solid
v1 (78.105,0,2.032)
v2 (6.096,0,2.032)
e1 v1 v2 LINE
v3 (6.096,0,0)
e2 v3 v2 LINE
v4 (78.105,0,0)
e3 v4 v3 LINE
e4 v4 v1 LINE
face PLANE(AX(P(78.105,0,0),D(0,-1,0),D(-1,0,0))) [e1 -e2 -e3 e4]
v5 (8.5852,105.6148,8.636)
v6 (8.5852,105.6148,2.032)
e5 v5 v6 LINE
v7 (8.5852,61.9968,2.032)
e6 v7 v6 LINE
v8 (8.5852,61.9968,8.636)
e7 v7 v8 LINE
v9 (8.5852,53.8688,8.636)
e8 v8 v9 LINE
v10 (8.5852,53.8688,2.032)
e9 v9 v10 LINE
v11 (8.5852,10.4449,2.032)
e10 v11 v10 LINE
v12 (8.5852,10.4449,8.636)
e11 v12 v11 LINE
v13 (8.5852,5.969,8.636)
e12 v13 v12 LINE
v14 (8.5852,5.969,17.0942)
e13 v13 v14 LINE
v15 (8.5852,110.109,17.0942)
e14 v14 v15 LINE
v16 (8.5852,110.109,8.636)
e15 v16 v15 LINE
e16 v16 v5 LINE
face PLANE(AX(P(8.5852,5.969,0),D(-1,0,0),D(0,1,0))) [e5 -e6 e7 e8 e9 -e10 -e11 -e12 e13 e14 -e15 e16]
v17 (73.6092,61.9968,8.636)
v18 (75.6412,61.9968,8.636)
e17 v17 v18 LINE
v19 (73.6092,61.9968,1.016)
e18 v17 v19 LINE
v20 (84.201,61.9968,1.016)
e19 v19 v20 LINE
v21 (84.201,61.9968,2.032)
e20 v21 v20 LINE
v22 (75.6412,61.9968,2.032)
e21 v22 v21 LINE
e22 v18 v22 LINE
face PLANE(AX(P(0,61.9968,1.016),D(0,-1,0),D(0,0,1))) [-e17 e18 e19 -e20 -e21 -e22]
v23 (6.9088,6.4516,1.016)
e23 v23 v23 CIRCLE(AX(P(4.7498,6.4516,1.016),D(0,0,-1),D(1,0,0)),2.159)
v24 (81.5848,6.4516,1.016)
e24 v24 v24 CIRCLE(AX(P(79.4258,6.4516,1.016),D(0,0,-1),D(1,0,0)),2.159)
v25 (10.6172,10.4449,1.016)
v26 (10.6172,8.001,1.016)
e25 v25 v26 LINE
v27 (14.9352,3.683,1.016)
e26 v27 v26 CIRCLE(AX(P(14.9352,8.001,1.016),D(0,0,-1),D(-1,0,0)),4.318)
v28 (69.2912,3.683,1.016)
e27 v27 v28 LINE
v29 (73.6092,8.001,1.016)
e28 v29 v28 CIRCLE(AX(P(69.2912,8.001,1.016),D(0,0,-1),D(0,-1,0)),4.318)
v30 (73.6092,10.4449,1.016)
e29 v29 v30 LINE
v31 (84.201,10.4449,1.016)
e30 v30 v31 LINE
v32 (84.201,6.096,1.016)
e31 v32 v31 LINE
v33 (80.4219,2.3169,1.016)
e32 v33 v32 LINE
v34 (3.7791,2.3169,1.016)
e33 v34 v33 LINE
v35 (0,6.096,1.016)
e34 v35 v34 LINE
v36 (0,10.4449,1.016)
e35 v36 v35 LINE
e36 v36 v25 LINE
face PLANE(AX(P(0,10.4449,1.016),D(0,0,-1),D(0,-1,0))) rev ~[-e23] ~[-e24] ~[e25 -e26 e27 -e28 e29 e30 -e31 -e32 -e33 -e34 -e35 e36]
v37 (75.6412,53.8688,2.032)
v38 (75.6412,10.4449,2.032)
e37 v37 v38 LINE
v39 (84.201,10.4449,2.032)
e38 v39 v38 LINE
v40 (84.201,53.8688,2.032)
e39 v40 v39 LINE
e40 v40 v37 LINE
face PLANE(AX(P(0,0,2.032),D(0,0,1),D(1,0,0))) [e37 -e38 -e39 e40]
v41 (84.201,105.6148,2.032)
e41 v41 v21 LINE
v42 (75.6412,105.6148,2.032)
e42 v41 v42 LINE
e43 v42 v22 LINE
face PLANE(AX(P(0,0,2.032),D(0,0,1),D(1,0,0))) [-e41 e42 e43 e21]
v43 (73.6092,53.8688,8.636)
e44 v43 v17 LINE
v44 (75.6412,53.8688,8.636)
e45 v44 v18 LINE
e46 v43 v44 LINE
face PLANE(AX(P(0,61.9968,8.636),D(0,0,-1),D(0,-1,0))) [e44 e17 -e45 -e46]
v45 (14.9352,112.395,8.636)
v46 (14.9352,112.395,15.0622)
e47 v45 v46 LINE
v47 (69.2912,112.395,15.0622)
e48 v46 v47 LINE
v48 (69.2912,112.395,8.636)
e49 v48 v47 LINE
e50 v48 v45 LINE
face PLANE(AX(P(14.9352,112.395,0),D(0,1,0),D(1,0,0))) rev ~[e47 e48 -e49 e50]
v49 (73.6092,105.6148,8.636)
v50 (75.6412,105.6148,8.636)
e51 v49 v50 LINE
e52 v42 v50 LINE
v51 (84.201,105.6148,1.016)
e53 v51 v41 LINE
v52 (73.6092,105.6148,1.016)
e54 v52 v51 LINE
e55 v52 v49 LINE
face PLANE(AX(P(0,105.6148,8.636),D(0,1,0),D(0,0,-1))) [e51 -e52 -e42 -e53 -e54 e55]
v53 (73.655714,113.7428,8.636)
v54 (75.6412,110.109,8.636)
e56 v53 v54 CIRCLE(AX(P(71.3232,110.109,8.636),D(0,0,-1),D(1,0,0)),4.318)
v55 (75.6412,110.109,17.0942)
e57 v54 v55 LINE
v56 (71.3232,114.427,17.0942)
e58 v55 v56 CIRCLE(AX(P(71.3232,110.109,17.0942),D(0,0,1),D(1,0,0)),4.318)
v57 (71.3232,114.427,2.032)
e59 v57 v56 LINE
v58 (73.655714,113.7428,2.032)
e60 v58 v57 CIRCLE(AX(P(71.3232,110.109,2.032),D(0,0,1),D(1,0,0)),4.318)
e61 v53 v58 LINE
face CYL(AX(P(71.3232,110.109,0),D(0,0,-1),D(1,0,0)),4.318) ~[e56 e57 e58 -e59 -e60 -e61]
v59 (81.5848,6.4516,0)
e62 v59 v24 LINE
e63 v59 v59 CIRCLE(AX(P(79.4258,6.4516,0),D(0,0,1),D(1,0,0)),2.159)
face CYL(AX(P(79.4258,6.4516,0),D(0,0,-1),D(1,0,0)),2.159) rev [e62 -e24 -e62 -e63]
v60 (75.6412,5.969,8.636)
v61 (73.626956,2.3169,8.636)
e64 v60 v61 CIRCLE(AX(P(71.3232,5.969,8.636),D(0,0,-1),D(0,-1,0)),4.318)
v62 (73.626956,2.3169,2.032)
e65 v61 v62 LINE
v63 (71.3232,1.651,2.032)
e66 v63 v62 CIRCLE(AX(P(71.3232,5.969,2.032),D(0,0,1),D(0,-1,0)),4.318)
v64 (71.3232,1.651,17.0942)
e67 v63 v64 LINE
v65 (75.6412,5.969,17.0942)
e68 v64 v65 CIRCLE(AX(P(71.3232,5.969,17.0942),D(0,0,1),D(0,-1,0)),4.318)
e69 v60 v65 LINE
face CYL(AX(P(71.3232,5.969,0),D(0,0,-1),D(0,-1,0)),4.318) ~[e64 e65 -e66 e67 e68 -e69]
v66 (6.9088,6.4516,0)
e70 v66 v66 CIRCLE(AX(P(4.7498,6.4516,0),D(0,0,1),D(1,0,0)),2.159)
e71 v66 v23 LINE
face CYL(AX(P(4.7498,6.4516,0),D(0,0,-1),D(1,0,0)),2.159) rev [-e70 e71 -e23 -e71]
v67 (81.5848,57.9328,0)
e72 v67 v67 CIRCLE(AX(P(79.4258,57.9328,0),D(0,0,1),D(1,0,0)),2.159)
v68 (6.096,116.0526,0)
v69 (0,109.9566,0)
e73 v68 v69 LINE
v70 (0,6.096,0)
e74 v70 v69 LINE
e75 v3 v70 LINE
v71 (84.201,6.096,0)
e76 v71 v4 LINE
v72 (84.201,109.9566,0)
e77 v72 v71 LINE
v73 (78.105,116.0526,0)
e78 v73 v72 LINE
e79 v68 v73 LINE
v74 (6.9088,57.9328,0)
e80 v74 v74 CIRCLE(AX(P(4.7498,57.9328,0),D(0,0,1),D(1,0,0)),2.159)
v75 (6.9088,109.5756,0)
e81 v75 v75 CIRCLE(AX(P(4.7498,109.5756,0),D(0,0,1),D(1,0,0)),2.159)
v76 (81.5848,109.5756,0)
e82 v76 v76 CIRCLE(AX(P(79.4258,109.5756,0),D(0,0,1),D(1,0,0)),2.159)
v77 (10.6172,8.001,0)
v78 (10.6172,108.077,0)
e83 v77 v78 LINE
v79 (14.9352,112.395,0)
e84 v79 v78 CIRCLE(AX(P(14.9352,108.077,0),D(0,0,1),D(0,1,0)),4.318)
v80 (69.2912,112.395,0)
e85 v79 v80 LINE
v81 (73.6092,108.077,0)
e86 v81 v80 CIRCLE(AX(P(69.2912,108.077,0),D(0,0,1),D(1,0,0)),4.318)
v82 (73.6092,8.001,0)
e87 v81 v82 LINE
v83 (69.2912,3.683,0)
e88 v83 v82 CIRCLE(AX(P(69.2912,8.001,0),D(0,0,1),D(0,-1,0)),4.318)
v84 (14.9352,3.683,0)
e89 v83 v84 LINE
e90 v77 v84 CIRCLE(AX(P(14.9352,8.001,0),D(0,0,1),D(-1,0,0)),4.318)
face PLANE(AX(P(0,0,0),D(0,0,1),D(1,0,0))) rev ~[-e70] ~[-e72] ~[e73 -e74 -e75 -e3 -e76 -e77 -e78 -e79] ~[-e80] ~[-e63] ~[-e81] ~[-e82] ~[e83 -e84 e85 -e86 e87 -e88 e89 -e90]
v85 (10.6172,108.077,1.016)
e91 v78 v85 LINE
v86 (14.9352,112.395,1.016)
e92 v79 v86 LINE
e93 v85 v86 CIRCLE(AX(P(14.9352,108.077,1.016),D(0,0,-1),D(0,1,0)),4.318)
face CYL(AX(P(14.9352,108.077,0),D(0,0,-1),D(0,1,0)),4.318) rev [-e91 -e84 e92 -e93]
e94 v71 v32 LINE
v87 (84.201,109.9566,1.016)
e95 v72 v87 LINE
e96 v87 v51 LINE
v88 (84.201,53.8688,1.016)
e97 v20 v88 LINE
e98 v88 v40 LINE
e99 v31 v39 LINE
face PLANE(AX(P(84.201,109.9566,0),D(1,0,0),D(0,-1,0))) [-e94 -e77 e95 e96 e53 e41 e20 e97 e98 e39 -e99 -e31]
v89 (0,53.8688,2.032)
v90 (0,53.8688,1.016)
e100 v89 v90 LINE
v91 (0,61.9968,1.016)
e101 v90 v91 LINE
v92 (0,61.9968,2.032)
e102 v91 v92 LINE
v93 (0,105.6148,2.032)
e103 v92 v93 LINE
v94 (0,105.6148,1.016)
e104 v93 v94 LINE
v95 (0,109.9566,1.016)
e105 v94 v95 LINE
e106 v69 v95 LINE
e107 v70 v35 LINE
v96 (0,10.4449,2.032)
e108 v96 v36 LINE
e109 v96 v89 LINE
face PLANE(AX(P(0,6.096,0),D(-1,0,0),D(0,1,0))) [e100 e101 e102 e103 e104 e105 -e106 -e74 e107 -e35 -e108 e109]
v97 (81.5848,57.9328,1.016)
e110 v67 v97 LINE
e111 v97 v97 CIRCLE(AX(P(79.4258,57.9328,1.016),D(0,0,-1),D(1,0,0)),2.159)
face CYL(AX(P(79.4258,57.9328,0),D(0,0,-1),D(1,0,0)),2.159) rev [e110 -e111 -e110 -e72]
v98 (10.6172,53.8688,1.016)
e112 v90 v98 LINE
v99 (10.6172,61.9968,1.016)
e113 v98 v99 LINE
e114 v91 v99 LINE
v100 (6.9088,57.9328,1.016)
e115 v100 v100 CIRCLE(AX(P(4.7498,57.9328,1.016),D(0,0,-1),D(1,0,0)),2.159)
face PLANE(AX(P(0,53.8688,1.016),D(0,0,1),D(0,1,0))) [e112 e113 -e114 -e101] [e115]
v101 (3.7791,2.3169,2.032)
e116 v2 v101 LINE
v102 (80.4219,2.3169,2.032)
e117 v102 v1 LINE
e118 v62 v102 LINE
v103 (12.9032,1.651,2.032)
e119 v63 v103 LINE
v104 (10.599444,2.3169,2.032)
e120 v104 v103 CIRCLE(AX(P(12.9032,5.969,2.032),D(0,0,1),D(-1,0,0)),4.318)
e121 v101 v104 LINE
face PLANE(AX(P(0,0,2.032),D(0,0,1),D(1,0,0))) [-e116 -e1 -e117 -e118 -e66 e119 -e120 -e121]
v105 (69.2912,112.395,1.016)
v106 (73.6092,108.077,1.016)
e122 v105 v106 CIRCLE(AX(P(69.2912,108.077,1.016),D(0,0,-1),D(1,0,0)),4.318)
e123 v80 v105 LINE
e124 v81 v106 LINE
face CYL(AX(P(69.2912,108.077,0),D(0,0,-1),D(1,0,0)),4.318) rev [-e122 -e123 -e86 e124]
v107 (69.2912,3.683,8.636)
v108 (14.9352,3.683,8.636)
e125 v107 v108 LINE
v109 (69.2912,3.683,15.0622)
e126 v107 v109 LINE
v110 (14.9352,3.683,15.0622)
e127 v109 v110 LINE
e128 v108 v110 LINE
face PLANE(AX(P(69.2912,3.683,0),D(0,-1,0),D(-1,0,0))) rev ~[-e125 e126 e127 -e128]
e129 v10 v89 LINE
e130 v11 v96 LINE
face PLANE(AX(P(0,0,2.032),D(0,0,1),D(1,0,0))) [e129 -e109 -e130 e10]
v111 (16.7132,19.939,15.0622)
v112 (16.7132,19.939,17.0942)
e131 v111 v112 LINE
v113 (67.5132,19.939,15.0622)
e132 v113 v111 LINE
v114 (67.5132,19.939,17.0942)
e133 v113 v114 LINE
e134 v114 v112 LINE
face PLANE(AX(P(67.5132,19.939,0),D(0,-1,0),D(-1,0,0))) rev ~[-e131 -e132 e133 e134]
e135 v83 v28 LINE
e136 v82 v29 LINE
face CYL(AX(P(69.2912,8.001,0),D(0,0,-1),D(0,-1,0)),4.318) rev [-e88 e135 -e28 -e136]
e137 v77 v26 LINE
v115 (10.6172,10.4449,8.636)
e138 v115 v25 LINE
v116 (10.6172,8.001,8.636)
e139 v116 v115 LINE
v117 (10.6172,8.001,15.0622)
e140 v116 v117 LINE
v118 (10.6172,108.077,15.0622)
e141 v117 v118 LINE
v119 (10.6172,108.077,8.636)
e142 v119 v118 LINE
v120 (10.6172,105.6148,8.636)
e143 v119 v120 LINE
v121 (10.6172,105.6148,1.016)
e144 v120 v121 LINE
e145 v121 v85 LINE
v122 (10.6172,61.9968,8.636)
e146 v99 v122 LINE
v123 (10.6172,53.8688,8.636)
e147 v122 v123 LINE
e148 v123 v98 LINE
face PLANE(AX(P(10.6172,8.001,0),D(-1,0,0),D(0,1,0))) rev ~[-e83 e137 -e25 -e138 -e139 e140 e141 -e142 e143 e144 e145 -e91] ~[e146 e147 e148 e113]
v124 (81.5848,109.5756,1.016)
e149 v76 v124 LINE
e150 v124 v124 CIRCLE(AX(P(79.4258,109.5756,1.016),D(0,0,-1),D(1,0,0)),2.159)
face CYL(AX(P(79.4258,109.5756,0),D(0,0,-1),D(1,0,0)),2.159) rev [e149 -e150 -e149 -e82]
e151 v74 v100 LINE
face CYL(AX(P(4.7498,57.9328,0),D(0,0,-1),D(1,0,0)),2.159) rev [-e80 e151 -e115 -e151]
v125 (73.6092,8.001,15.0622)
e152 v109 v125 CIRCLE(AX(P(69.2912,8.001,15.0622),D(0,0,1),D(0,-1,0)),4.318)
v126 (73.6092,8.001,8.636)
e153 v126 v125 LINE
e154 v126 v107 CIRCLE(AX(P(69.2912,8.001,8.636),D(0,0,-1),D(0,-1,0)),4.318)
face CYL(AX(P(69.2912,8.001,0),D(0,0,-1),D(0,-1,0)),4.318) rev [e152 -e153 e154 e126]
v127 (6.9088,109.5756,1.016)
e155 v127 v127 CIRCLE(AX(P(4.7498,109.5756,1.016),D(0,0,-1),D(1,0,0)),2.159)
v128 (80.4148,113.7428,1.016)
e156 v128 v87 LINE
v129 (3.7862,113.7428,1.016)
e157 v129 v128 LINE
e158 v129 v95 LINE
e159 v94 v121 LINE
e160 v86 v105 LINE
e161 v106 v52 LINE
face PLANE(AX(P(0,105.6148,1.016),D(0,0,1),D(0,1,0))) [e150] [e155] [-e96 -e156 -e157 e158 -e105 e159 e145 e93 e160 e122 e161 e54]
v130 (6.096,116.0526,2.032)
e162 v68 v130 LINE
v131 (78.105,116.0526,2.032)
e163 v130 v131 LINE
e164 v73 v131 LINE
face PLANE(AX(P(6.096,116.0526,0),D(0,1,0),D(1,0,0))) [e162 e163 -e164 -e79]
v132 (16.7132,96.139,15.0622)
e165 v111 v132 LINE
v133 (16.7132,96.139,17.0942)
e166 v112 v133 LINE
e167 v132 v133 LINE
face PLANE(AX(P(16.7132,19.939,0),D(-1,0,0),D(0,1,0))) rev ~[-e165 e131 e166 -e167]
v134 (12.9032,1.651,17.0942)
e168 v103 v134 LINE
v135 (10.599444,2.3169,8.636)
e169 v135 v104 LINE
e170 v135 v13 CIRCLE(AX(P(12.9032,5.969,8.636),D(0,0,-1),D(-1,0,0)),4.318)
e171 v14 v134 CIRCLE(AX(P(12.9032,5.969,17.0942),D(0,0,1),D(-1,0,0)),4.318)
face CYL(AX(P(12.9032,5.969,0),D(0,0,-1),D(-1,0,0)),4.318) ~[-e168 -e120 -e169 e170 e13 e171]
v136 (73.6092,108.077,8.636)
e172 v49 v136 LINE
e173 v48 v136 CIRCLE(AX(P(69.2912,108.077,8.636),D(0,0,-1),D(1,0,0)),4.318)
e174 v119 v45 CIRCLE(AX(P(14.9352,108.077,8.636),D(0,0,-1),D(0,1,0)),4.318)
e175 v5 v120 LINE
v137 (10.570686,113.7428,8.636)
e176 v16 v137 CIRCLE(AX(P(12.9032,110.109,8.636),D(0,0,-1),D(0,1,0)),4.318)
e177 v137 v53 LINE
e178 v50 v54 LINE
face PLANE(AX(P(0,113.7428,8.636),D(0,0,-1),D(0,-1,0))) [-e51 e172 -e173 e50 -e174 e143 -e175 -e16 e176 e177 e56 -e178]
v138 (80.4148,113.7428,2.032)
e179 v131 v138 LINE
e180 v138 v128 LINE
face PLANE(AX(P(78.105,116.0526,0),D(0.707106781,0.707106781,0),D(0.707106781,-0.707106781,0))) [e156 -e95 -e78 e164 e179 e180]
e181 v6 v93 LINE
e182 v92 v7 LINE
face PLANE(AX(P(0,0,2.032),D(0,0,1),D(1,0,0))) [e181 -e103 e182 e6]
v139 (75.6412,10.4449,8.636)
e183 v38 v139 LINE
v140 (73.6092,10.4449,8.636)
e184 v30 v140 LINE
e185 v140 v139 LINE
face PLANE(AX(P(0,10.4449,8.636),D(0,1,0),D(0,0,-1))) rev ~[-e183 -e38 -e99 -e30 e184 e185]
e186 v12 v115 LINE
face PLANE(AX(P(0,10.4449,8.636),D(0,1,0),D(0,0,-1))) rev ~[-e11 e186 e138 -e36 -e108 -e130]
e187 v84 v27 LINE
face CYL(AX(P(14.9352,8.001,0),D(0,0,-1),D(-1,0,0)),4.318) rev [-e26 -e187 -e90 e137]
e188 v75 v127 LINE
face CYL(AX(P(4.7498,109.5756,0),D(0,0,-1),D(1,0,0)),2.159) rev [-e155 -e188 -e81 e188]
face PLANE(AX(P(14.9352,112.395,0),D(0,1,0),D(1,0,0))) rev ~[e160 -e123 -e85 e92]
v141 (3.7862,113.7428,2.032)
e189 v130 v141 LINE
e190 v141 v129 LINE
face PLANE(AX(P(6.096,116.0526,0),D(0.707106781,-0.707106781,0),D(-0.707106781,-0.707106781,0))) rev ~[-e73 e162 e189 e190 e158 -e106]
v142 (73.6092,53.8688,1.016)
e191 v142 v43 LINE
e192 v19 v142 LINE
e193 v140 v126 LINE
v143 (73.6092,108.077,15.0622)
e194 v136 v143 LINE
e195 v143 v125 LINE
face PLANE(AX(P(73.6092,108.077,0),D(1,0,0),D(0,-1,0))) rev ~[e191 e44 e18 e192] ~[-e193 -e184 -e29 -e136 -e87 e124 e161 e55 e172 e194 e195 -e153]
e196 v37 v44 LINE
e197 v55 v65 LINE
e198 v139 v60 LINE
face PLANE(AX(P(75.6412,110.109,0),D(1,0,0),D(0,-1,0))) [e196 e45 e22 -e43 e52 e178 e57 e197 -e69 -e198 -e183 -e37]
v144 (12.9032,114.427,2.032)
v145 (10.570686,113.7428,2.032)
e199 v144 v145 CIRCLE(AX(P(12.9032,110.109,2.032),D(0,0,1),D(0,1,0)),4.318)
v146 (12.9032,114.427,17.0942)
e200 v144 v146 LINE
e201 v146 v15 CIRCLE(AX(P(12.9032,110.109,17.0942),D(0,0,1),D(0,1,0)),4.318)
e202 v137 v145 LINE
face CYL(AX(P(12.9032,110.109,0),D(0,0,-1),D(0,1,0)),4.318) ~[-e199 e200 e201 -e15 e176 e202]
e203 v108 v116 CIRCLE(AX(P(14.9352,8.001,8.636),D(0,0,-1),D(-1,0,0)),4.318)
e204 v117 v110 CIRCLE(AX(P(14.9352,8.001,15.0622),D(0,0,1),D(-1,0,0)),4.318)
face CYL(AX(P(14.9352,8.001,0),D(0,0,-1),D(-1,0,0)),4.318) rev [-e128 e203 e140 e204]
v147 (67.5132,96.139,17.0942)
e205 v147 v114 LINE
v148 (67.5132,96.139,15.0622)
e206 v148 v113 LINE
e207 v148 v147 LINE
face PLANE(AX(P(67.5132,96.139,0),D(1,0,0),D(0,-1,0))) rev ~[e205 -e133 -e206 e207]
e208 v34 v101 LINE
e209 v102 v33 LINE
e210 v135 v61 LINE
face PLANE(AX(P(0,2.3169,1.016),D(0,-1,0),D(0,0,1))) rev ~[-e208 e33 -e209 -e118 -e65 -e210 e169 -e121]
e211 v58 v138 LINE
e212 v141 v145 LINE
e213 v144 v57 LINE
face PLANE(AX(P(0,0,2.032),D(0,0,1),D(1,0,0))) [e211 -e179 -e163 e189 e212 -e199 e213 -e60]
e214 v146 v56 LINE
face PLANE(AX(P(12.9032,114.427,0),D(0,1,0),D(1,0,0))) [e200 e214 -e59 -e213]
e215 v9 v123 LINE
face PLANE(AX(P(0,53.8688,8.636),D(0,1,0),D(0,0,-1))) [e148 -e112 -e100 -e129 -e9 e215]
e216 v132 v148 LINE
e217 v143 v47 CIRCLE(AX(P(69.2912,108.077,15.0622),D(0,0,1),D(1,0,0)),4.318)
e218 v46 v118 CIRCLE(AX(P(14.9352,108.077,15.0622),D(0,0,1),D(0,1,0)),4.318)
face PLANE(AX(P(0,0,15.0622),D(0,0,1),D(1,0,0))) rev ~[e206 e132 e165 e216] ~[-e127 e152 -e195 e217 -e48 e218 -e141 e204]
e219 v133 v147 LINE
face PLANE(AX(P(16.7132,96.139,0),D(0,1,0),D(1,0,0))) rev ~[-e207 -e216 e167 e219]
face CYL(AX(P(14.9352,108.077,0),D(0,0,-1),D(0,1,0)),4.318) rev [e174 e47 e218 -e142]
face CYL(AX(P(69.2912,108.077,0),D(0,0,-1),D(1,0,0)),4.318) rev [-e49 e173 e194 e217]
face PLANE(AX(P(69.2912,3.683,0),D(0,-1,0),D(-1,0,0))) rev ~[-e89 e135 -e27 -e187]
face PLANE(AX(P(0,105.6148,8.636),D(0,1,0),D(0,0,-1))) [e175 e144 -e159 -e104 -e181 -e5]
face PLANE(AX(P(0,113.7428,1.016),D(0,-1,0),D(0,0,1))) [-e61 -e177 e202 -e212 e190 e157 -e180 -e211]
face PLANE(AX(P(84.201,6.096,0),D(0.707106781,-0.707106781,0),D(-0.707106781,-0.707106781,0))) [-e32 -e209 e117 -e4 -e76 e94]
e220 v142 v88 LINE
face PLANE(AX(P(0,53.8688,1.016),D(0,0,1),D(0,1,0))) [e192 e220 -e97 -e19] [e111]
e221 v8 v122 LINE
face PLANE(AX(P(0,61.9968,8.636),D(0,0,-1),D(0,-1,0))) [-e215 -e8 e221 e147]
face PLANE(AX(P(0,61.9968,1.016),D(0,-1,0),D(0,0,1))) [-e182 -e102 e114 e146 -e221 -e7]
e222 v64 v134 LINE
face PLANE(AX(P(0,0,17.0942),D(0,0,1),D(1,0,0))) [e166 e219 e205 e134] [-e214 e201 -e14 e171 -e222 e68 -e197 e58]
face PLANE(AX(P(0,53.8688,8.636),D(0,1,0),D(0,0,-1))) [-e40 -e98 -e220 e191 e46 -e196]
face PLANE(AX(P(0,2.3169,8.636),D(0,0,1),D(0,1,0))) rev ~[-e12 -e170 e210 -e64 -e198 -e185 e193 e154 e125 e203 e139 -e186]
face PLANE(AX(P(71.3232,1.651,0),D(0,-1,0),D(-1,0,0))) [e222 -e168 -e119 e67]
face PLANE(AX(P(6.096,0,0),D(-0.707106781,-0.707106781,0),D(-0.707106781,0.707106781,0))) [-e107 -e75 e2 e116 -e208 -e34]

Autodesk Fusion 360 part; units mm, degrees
sketch "Sketch1" plane through (0, 0, 0) normal (0, 0, 1) x (1, 0, 0)
  line L0 (29.0445, 57.9328) -> (-12.0026, 57.9328) construction
  line L1 (41.7104, -9.3698) -> (41.7104, 10.2984) construction
  line L2 (41.7104, 10.2984) -> (41.7104, 122.9631) construction
  line L3 (29.0445, 57.9328) -> (97.0807, 57.9328) construction
  line L4 (4.7498, 120.3976) -> (4.7498, -5.9492) construction
  line L5 (79.4258, 120.3976) -> (79.4258, -5.9492) construction
  line L6 (-5.9061, 109.5756) -> (91.9438, 109.5756) construction
  line L7 (-5.9061, 6.4516) -> (90.0293, 6.4516) construction
  line L8 (6.096, 116.0526) -> (78.105, 116.0526)
  line L9 (84.201, 109.9566) -> (84.201, 6.096)
  line L10 (78.105, 0) -> (6.096, 0)
  line L11 (0, 6.096) -> (0, 109.9566)
  line L12 (6.096, 116.0526) -> (0, 109.9566)
  line L13 (78.105, 116.0526) -> (84.201, 109.9566)
  line L14 (84.201, 6.096) -> (78.105, 0)
  line L15 (6.096, 0) -> (0, 6.096)
  circle A0 centre (79.4258, 109.5756) radius 2.159
  circle A1 centre (4.7498, 109.5756) radius 2.159
  circle A2 centre (4.7498, 6.4516) radius 2.159
  circle A3 centre (79.4258, 6.4516) radius 2.159
  circle A4 centre (79.4258, 57.9328) radius 2.159
  circle A5 centre (4.7498, 57.9328) radius 2.159
  line L16 (12.9032, 114.427) -> (71.3232, 114.427)
  line L17 (75.6412, 110.109) -> (75.6412, 5.969)
  line L18 (71.3232, 1.651) -> (12.9032, 1.651)
  line L19 (8.5852, 5.969) -> (8.5852, 110.109)
  line L20 (14.9352, 112.395) -> (69.2912, 112.395)
  line L21 (73.6092, 108.077) -> (73.6092, 8.001)
  line L22 (69.2912, 3.683) -> (14.9352, 3.683)
  line L23 (10.6172, 8.001) -> (10.6172, 108.077)
  line L24 (16.7132, 96.139) -> (67.5132, 96.139)
  line L25 (67.5132, 96.139) -> (67.5132, 19.939)
  line L26 (67.5132, 19.939) -> (16.7132, 19.939)
  line L27 (16.7132, 19.939) -> (16.7132, 96.139)
  arc A6 (14.9352, 112.395) -> (10.6172, 108.077) centre (14.9352, 108.077) ccw
  arc A7 (73.6092, 108.077) -> (69.2912, 112.395) centre (69.2912, 108.077) ccw
  arc A8 (10.6172, 8.001) -> (14.9352, 3.683) centre (14.9352, 8.001) ccw
  arc A9 (69.2912, 3.683) -> (73.6092, 8.001) centre (69.2912, 8.001) ccw
  arc A10 (75.6412, 110.109) -> (71.3232, 114.427) centre (71.3232, 110.109) ccw
  arc A11 (12.9032, 114.427) -> (8.5852, 110.109) centre (12.9032, 110.109) ccw
  arc A12 (71.3232, 1.651) -> (75.6412, 5.969) centre (71.3232, 5.969) ccw
  arc A13 (8.5852, 5.969) -> (12.9032, 1.651) centre (12.9032, 5.969) ccw
  point P0 (84.201, 0)
  point P1 (0, 116.0526)
  point P2 (0, 116.0526)
  point P3 (84.201, 116.0526)
  point P4 (84.201, 0)
  point P5 (8.5852, 114.427)
  point P6 (75.6412, 114.427)
  point P7 (8.5852, 1.651)
  point P8 (10.6172, 112.395)
  point P9 (73.6092, 112.395)
  point P10 (10.6172, 3.683)
  dimension "d3" = 74.676
  dimension "d60" = 116.0526
  dimension "d61" = 84.201
  dimension "d62" = 6.096
  dimension "d63" = 6.096
  dimension "d64" = 6.096
  dimension "d65" = 6.096
  dimension "d66" = 6.096
  dimension "d67" = 6.096
  dimension "d68" = 6.096
  dimension "d69" = 6.096
  dimension "d72" = 4.318
  dimension "d73" = 4.318
  dimension "d74" = 4.318
  dimension "d75" = 4.318
  dimension "d76" = 4.318
  dimension "d77" = 4.318
  dimension "d78" = 67.056
  dimension "d79" = 112.776
  dimension "d80" = 1.6256
  dimension "d81" = 8.5598
  dimension "d82" = 108.712
  dimension "d83" = 62.992
  dimension "d84" = 2.032
  dimension "d85" = 2.032
  dimension "d86" = 76.2
  dimension "d87" = 16.256
  dimension "d88" = 50.8
  dimension "d89" = 6.096
  dimension "d98" = 4.318
  dimension "d99" = 4.318
  dimension "d100" = 4.318
  dimension "d101" = 4.318
  dimension "d102" = 4.318
  dimension "d103" = 4.318
  dimension "d104" = 4.318
  dimension "d105" = 4.318
sketch "Sketch2" plane through (0, 0, 0) normal (1, 0, 0) x (0, 1, 0)
  line L0 (53.8688, 1.016) -> (61.9968, 1.016)
  line L1 (61.9968, 1.016) -> (61.9968, 8.636)
  line L2 (61.9968, 8.636) -> (53.8688, 8.636)
  line L3 (53.8688, 8.636) -> (53.8688, 1.016)
  line L4 (3.8862, 0) -> (112.1664, 0)
  line L5 (6.3809, 11.5089) -> (6.3809, -11.5297) construction
  line L6 (109.6788, 11.6549) -> (109.6788, -6.3065) construction
  line L7 (105.6148, 1.016) -> (113.7428, 1.016)
  line L8 (113.7428, 1.016) -> (113.7428, 8.636)
  line L9 (113.7428, 8.636) -> (105.6148, 8.636)
  line L10 (105.6148, 8.636) -> (105.6148, 1.016)
  line L11 (109.9566, 0) -> (6.096, 0)
  line L12 (10.4449, 1.016) -> (2.3169, 1.016)
  line L13 (2.3169, 1.016) -> (2.3169, 8.636)
  line L14 (2.3169, 8.636) -> (10.4449, 8.636)
  line L15 (10.4449, 8.636) -> (10.4449, 1.016)
  point P0 (57.9328, 0)
  dimension "d46" = 7.62
  dimension "d47" = 8.128
  dimension "d48" = 4.064
  dimension "d49" = 1.016
  dimension "d106" = 7.62
  dimension "d107" = 8.128
  dimension "d108" = 1.016
  dimension "d109" = 7.62
  dimension "d110" = 8.128
  dimension "d111" = 1.016
  dimension "d112" = 4.064
  dimension "d113" = 4.064
extrude "Extrude6" add sketch "Sketch1" along normal blind 2.032 contours L8 L9 L10 L11 L12 L13 L14 L15
extrude "Extrude7" add sketch "Sketch1" along normal blind 17.0942 contours L16 L17 L18 L19 A10 A11 A12 A13
extrude "Extrude8" add sketch "Sketch1" along normal blind 17.0942 contours L20 L21 L22 L23 A6 A7 A8 A9
extrude "Extrude9" cut sketch "Sketch1" along normal blind 15.0622 contours L20 L21 L22 L23 A6 A7 A8 A9
extrude "Extrude10" cut sketch "Sketch2" along normal through all contours L0 L1 L2 L3
extrude "Extrude11" cut sketch "Sketch2" along normal through all contours L7 L8 L9 L10
extrude "Extrude12" cut sketch "Sketch2" along normal through all contours L12 L13 L14 L15
equation "d63 = d62"
equation "d65 = d64"
equation "d67 = d66"
equation "d69 = d68"
